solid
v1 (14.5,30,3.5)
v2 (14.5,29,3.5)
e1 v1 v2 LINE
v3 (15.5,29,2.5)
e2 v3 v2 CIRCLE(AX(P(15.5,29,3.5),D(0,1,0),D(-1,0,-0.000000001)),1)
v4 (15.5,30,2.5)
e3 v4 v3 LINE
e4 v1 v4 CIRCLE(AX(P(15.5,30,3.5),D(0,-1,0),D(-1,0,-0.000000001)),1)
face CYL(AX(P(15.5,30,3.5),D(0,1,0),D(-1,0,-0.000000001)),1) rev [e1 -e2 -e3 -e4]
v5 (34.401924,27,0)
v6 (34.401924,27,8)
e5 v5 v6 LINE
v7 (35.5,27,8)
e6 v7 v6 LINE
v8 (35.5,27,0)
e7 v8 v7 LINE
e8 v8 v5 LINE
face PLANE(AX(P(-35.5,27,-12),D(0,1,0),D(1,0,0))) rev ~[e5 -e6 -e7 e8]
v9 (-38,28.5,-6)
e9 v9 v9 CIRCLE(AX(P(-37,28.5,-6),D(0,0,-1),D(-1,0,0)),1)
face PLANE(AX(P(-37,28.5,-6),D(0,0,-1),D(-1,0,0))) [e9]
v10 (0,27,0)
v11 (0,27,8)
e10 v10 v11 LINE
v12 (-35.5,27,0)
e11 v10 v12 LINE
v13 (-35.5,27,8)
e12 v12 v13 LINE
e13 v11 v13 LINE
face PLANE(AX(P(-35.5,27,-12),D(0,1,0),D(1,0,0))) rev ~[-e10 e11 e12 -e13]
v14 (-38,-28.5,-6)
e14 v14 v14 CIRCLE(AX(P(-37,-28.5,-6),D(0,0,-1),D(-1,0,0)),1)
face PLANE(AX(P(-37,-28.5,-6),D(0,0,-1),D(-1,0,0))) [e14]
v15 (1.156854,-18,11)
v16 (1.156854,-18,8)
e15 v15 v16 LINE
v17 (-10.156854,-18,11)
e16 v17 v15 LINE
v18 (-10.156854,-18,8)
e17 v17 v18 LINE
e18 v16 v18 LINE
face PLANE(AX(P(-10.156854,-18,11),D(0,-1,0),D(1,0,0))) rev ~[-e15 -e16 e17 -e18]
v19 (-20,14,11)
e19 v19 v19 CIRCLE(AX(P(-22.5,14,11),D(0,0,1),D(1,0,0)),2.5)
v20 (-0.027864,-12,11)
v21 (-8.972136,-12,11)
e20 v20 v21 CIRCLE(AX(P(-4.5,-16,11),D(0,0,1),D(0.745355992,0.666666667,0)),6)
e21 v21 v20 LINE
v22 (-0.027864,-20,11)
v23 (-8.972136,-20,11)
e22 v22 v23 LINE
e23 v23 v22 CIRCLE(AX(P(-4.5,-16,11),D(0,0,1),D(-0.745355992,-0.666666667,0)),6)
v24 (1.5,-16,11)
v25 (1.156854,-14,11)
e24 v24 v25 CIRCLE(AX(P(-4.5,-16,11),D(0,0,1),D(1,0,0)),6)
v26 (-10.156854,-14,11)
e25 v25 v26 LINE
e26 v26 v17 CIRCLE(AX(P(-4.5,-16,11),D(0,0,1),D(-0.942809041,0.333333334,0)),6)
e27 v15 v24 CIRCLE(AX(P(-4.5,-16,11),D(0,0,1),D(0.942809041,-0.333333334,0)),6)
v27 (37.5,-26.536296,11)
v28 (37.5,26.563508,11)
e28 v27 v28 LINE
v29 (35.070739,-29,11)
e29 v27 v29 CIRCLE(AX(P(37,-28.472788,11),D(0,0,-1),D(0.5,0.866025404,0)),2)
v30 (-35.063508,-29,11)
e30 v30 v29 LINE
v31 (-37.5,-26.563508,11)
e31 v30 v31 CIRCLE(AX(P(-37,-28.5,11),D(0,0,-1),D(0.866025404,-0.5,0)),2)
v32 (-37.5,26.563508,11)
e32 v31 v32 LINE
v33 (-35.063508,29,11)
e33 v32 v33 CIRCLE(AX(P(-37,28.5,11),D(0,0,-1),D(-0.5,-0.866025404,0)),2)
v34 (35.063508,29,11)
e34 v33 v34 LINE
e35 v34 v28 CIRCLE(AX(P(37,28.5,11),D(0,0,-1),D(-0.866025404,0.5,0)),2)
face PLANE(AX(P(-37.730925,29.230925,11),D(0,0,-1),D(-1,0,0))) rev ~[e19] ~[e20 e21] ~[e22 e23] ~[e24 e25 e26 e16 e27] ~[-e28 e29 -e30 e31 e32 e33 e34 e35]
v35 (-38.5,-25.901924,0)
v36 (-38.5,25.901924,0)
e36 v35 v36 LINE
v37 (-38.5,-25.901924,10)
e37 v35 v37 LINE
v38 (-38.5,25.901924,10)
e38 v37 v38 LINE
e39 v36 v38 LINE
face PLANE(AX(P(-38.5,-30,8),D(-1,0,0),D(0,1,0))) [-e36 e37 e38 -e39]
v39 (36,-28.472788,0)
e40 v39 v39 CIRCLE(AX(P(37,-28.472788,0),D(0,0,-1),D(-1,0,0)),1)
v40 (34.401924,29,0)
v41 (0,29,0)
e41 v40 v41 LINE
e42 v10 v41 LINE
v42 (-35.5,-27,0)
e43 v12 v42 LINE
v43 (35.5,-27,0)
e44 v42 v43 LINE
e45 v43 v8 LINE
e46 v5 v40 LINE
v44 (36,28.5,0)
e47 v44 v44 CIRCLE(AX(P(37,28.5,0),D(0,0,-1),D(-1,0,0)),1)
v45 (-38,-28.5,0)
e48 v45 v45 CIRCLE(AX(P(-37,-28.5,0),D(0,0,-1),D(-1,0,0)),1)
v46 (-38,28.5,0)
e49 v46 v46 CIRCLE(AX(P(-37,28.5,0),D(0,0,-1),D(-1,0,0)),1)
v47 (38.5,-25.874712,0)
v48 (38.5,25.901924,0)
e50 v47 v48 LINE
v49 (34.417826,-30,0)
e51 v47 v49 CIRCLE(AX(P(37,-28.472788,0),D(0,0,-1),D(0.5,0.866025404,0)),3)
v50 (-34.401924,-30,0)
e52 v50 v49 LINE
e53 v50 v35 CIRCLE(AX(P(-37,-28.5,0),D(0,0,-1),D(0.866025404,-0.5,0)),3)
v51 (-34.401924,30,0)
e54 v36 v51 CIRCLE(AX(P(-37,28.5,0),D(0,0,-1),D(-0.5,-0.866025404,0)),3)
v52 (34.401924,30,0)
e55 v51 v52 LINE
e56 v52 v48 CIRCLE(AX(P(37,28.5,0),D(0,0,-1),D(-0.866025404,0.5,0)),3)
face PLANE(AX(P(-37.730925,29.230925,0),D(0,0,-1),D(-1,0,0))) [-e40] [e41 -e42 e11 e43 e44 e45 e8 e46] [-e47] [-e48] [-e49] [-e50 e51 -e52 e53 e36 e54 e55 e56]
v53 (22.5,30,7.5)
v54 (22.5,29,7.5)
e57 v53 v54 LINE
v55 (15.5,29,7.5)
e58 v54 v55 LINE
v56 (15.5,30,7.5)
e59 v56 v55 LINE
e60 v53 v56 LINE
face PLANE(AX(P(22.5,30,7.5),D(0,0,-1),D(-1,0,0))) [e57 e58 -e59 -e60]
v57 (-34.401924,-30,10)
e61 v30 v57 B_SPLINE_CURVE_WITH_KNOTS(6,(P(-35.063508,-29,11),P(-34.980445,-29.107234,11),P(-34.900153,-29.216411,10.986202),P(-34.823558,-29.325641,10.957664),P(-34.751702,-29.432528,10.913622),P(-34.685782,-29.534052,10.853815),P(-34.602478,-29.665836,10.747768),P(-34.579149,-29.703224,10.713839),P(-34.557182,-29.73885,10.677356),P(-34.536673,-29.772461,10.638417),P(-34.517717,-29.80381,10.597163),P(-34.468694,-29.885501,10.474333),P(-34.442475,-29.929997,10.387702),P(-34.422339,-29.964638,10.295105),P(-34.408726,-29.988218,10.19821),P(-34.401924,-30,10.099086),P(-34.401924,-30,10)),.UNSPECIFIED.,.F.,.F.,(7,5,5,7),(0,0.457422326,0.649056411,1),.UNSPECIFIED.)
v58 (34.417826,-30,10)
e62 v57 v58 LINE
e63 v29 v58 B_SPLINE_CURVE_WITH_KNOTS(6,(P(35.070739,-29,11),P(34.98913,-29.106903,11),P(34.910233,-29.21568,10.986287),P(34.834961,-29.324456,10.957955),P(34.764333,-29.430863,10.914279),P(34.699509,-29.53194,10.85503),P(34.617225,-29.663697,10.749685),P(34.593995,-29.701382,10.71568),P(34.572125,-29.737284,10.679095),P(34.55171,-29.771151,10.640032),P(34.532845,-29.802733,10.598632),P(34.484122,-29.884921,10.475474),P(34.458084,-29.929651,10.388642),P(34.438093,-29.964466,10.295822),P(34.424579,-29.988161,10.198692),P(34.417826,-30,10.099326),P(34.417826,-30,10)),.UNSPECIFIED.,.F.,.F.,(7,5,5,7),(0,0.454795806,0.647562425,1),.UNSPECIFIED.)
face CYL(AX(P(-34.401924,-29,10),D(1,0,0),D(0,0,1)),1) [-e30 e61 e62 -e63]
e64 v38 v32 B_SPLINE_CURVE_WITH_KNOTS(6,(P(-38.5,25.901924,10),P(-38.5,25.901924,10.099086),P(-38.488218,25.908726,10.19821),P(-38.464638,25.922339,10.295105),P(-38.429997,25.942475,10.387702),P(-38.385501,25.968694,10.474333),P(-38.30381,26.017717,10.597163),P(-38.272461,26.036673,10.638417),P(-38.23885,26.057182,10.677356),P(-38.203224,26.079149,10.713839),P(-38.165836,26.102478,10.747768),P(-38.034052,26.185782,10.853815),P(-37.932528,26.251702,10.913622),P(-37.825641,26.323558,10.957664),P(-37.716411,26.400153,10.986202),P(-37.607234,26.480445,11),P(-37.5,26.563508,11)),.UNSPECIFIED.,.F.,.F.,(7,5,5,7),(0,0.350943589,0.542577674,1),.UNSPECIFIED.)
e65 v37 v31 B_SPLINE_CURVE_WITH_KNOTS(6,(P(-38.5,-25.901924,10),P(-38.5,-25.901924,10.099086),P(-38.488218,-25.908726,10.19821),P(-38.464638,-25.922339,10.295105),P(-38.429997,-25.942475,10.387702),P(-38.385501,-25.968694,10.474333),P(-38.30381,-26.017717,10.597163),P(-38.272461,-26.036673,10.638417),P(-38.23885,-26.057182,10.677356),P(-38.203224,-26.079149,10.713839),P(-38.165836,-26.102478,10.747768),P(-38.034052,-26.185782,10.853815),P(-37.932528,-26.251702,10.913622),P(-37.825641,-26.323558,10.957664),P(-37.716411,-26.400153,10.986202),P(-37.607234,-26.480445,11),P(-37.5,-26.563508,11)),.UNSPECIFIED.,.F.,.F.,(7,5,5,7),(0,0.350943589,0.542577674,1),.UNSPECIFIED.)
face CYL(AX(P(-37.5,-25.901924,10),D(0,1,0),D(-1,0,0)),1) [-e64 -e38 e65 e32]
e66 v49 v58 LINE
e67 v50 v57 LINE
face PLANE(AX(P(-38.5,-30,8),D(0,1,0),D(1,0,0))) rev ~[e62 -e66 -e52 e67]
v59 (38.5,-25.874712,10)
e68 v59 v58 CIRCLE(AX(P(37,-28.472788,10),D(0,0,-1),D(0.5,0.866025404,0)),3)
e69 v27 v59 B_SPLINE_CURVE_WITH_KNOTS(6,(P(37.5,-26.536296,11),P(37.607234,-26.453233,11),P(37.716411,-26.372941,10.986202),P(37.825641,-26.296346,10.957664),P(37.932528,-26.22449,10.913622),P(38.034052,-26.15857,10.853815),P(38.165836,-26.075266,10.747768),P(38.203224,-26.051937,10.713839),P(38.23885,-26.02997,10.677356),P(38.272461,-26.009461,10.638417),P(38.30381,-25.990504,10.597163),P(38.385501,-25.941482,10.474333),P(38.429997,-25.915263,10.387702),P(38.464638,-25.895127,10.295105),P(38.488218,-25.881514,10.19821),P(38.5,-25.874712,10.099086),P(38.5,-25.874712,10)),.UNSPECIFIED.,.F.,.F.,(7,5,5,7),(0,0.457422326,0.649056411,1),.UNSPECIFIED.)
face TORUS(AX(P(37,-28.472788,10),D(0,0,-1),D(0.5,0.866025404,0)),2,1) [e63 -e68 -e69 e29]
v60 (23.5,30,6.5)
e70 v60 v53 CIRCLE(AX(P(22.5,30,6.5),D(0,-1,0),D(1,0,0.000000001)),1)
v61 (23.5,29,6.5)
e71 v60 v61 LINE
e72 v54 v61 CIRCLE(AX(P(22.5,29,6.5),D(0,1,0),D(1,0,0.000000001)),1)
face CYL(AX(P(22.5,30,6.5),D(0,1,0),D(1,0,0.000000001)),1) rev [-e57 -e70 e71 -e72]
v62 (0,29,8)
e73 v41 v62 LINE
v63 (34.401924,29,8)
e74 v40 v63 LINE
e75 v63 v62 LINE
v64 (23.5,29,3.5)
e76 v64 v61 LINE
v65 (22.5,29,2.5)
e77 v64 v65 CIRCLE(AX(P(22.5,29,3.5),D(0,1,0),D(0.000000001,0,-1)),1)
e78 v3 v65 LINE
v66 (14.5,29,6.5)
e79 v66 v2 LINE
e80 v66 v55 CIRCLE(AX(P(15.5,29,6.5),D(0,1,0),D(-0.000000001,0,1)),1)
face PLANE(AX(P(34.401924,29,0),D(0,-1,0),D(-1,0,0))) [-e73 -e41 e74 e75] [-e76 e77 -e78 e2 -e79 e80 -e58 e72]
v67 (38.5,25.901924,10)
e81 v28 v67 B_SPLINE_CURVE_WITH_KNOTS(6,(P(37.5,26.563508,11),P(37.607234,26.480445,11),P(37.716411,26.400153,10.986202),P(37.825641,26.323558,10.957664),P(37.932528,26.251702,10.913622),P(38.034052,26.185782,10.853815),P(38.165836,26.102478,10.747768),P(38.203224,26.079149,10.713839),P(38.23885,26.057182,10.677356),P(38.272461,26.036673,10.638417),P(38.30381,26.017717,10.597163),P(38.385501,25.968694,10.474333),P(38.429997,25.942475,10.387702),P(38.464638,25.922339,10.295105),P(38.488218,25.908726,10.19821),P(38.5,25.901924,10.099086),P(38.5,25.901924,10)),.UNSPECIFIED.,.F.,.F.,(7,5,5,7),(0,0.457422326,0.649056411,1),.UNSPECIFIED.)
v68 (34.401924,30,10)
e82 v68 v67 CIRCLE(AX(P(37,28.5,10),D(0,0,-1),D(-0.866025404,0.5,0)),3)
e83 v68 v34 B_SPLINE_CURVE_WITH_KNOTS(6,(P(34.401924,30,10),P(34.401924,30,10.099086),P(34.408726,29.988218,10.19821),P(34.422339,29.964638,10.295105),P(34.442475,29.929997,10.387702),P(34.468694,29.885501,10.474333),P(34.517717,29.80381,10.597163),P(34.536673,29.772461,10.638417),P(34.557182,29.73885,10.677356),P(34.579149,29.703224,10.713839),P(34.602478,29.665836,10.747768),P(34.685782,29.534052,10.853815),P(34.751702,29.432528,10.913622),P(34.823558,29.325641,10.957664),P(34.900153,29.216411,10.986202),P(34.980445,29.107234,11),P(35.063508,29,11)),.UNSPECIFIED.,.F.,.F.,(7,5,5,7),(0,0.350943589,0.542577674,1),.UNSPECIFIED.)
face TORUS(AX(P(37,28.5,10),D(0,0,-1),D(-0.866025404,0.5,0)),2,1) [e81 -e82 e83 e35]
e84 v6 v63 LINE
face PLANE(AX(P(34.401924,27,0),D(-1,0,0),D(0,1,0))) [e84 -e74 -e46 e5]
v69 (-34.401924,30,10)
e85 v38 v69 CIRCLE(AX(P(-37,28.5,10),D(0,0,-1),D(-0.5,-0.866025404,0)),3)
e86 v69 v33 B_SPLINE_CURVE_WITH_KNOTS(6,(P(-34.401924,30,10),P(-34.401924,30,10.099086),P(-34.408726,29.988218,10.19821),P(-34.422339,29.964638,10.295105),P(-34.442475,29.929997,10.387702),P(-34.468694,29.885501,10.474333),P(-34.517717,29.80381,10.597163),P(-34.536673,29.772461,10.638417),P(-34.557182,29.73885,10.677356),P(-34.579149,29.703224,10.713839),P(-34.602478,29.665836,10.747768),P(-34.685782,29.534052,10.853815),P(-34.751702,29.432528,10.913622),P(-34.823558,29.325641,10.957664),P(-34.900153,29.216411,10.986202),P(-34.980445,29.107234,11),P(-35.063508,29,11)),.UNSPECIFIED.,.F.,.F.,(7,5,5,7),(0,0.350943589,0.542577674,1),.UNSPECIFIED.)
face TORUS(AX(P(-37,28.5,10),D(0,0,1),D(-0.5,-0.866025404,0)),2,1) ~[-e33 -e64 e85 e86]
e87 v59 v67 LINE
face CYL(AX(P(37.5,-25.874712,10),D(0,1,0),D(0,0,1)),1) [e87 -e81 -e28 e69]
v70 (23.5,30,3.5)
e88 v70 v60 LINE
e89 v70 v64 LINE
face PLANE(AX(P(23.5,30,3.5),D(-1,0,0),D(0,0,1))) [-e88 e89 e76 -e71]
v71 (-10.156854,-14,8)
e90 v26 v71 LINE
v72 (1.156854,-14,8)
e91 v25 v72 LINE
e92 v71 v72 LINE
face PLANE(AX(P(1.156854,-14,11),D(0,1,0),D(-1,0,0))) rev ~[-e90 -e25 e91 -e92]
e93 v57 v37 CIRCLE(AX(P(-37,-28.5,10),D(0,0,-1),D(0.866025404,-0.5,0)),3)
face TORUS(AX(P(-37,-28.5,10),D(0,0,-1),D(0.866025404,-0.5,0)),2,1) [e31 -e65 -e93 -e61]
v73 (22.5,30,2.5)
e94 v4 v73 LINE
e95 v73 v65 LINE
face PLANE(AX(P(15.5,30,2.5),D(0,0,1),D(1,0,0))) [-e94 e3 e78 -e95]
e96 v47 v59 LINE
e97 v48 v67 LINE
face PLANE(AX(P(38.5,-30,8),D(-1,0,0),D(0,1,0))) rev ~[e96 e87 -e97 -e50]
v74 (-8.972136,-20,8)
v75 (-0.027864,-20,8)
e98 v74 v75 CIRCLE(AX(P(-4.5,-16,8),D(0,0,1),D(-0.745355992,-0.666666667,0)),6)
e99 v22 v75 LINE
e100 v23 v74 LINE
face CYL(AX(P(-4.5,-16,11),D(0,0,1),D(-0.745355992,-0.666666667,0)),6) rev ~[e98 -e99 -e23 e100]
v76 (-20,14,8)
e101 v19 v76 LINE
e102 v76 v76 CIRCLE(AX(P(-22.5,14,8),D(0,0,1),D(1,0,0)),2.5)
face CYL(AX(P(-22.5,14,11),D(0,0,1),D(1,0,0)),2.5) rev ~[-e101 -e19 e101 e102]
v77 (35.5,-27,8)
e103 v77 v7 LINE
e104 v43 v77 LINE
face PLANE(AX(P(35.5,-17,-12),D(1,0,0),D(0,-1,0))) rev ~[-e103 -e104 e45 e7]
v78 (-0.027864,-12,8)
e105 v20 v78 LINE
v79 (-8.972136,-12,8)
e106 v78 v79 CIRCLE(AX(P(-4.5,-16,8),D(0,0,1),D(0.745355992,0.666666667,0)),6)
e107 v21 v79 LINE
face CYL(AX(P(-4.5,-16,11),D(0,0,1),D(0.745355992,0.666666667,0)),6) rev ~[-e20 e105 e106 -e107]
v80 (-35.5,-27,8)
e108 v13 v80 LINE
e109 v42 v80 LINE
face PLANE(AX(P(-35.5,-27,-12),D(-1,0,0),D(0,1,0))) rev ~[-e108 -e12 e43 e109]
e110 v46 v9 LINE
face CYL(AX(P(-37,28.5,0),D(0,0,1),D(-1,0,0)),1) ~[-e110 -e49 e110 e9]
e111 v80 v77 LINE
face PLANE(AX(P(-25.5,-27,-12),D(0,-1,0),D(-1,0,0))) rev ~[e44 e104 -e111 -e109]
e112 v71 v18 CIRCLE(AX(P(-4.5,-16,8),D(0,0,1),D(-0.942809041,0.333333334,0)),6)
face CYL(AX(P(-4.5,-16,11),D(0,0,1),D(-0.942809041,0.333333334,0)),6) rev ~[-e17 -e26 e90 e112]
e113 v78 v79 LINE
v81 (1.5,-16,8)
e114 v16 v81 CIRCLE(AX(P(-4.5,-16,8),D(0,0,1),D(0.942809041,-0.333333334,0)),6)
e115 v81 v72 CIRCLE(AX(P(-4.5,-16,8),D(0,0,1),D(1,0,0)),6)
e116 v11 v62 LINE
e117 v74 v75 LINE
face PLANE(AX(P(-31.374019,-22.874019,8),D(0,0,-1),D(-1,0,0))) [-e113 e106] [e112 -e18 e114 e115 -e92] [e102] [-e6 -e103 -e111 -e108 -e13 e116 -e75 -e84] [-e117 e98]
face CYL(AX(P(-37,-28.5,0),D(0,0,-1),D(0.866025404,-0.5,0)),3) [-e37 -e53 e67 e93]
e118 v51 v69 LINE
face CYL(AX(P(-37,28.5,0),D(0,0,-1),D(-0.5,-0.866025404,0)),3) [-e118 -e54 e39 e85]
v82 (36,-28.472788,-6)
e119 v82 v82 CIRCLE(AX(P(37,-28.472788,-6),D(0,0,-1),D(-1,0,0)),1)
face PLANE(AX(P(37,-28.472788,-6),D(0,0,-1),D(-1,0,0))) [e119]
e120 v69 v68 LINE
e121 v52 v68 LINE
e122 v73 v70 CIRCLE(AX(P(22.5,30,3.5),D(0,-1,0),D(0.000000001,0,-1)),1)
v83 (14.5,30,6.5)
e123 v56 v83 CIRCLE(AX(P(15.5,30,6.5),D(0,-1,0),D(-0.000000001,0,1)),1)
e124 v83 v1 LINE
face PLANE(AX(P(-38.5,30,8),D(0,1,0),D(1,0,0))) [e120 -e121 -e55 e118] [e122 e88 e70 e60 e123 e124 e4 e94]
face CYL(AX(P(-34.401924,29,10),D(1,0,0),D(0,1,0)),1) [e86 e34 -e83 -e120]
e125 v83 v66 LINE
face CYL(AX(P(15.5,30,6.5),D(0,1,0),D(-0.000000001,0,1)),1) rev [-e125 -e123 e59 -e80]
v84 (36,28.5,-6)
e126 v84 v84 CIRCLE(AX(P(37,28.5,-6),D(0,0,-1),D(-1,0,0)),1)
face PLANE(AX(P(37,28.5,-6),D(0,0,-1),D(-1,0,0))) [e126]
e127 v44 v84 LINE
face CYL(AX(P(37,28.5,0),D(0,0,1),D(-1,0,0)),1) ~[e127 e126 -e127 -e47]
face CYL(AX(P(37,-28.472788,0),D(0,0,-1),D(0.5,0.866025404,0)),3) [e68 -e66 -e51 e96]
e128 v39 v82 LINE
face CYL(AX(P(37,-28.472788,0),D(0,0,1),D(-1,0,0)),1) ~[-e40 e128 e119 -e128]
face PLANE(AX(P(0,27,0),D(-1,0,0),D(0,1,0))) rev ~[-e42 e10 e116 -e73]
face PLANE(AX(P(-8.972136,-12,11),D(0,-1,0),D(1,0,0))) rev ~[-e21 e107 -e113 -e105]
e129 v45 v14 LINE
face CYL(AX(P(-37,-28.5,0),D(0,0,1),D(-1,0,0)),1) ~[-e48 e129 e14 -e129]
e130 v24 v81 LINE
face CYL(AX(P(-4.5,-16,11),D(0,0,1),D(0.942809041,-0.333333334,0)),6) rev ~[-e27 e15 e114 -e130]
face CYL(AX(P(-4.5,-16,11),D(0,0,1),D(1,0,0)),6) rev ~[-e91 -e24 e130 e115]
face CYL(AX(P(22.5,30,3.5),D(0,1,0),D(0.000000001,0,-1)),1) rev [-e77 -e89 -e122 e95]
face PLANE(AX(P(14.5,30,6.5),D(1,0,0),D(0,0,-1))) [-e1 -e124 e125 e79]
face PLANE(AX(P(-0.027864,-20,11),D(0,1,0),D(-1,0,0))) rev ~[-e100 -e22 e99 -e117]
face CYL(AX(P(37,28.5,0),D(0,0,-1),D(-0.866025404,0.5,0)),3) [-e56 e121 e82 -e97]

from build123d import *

# Parameters (mm, degrees)
SKETCH2_R                  = 1.75
BOSS_EXTRUDE1_DEPTH        = 8
BOSS_EXTRUDE1_DEPTH_BACK   = 12
BOSS_EXTRUDE1_2_DEPTH      = 8
BOSS_EXTRUDE1_2_DEPTH_BACK = 12
BOSS_EXTRUDE1_3_DEPTH      = 8
BOSS_EXTRUDE1_3_DEPTH_BACK = 12
BOSS_EXTRUDE1_4_DEPTH      = 8
BOSS_EXTRUDE1_4_DEPTH_BACK = 12
SKETCH3_W                  = 77
SKETCH3_H                  = 60
SKETCH3_W_2                = 71
SKETCH3_H_2                = 54
BOSS_EXTRUDE2_DEPTH        = 8
SKETCH4_W                  = 77
SKETCH4_H                  = 60
BOSS_EXTRUDE3_DEPTH        = 3
CUT_EXTRUDE6_DEPTH         = 20
CUT_EXTRUDE8_DEPTH         = 13
CUT_EXTRUDE9_DEPTH         = 10
SKETCH17_R                 = 1
BOSS_EXTRUDE5_DEPTH        = 6
BOSS_EXTRUDE5_DEPTH_BACK   = 7
FILLET1_R                  = 1
BOSS_EXTRUDE6_DEPTH        = 11
FILLET3_R                  = 1
SKETCH20_R                 = 2.5
CUT_EXTRUDE10_DEPTH        = 10
SKETCH22_W                 = 34.401923789
SKETCH22_H                 = 2
CUT_EXTRUDE11_DEPTH        = 8


with BuildPart() as part:
    # Sketch2 → Boss-Extrude1 (new body, two sides)
    with BuildSketch(Plane.XY) as boss_extrude1_sk:
        with BuildLine():
            Line((-35.5, -27), (-25.5, -27))
            ThreePointArc((-25.5, -27), (-28.428932188, -19.928932188), (-35.5, -17))
            Line((-35.5, -17), (-35.5, -27))
        make_face()
        with Locations((-33, -23)):
            Circle(SKETCH2_R, mode=Mode.SUBTRACT)
    extrude(amount=BOSS_EXTRUDE1_DEPTH)
    extrude(boss_extrude1_sk.sketch, amount=-BOSS_EXTRUDE1_DEPTH_BACK)



with BuildPart() as body_2:
    # Sketch2 → Boss-Extrude1 2 (new body, two sides)
    with BuildSketch(Plane.XY) as boss_extrude1_2_sk:
        with BuildLine():
            Line((35.5, 27), (35.5, 17))
            ThreePointArc((35.5, 17), (28.428932188, 19.928932188), (25.5, 27))
            Line((25.5, 27), (35.5, 27))
        make_face()
        with Locations((33, 21)):
            Circle(SKETCH2_R, mode=Mode.SUBTRACT)
    extrude(amount=BOSS_EXTRUDE1_2_DEPTH)
    extrude(boss_extrude1_2_sk.sketch, amount=-BOSS_EXTRUDE1_2_DEPTH_BACK)


with BuildPart() as body_3:
    # Sketch2 → Boss-Extrude1 3 (new body, two sides)
    with BuildSketch(Plane.XY) as boss_extrude1_3_sk:
        with BuildLine():
            Line((-35.5, 27), (-25.5, 27))
            ThreePointArc((-25.5, 27), (-28.428932188, 19.928932188), (-35.5, 17))
            Line((-35.5, 17), (-35.5, 27))
        make_face()
        with Locations((-33, 21)):
            Circle(SKETCH2_R, mode=Mode.SUBTRACT)
    extrude(amount=BOSS_EXTRUDE1_3_DEPTH)
    extrude(boss_extrude1_3_sk.sketch, amount=-BOSS_EXTRUDE1_3_DEPTH_BACK)


with BuildPart() as body_4:
    # Sketch2 → Boss-Extrude1 4 (new body, two sides)
    with BuildSketch(Plane.XY) as boss_extrude1_4_sk:
        with BuildLine():
            Line((35.5, -17), (35.5, -27))
            Line((35.5, -27), (25.5, -27))
            ThreePointArc((25.5, -27), (28.428932188, -19.928932188), (35.5, -17))
        make_face()
        with Locations((33, -23)):
            Circle(SKETCH2_R, mode=Mode.SUBTRACT)
    extrude(amount=BOSS_EXTRUDE1_4_DEPTH)
    extrude(boss_extrude1_4_sk.sketch, amount=-BOSS_EXTRUDE1_4_DEPTH_BACK)


with BuildPart() as part_1:
    add(part.part)

    add(body_2.part)  # Boss-Extrude2 merges body 2

    add(body_3.part)  # Boss-Extrude2 merges body 3

    add(body_4.part)  # Boss-Extrude2 merges body 4
    # Sketch3 → Boss-Extrude2 (add)
    with BuildSketch(Plane.XY):
        Rectangle(SKETCH3_W, SKETCH3_H)
        Rectangle(SKETCH3_W_2, SKETCH3_H_2, mode=Mode.SUBTRACT)
    extrude(amount=BOSS_EXTRUDE2_DEPTH)

    # Sketch4 → Boss-Extrude3 (add)
    with BuildSketch(Plane.XY.offset(8)):
        Rectangle(SKETCH4_W, SKETCH4_H)
    extrude(amount=BOSS_EXTRUDE3_DEPTH)

    # Sketch12 → Cut-Extrude6 (cut)
    with BuildSketch(Plane(origin=(0, 0, -12), x_dir=(-1, 0, 0), z_dir=(0, 0, -1))):
        with BuildLine():
            Line((-35.5, -27), (-25.5, -27))
            ThreePointArc((-25.5, -27), (-28.428932188, -19.928932188), (-35.5, -17))
            Line((-35.5, -17), (-35.5, -27))
        make_face()
        with BuildLine():
            Line((35.5, -27), (35.5, -17))
            ThreePointArc((35.5, -17), (28.428932188, -19.928932188), (25.5, -27))
            Line((25.5, -27), (35.5, -27))
        make_face()
        with BuildLine():
            Line((35.5, 17), (35.5, 27))
            Line((35.5, 27), (25.5, 27))
            ThreePointArc((25.5, 27), (28.428932188, 19.928932188), (35.5, 17))
        make_face()
        with BuildLine():
            Line((-25.5, 27), (-35.5, 27))
            Line((-35.5, 27), (-35.5, 17))
            ThreePointArc((-35.5, 17), (-28.428932188, 19.928932188), (-25.5, 27))
        make_face()
    extrude(amount=-CUT_EXTRUDE6_DEPTH, mode=Mode.SUBTRACT)

    # Sketch14 → Cut-Extrude8 (cut)
    with BuildSketch(Plane(origin=(0, 30, 0), x_dir=(1, 0, 0), z_dir=(0, 1, 0))):
        with BuildLine():
            Line((22.5, -7.5), (15.5, -7.5))
            ThreePointArc((15.5, -7.5), (14.792893219, -7.207106781), (14.5, -6.5))
            Line((14.5, -6.5), (14.5, -3.5))
            ThreePointArc((14.5, -3.5), (14.792893219, -2.792893219), (15.5, -2.5))
            Line((15.5, -2.5), (22.5, -2.5))
            ThreePointArc((22.5, -2.5), (23.207106781, -2.792893219), (23.5, -3.5))
            Line((23.5, -3.5), (23.5, -6.5))
            ThreePointArc((23.5, -6.5), (23.207106781, -7.207106781), (22.5, -7.5))
        make_face()
    extrude(amount=-CUT_EXTRUDE8_DEPTH, mode=Mode.SUBTRACT)

    # Sketch15 → Cut-Extrude9 (cut)
    with BuildSketch(Plane.XY.offset(11)):
        with BuildLine():
            ThreePointArc((-0.027864045, -12), (-4.5, -10), (-8.972135955, -12))
            Line((-8.972135955, -12), (-0.027864045, -12))
        make_face()
        with BuildLine():
            Line((1.156854249, -14), (-10.156854249, -14))
            ThreePointArc((-10.156854249, -14), (-10.5, -16), (-10.156854249, -18))
            Line((-10.156854249, -18), (1.156854249, -18))
            ThreePointArc((1.156854249, -18), (1.413591358, -17.014611872), (1.5, -16))
            ThreePointArc((1.5, -16), (1.413591358, -14.985388128), (1.156854249, -14))
        make_face()
        with BuildLine():
            Line((-0.027864045, -20), (-8.972135955, -20))
            ThreePointArc((-8.972135955, -20), (-4.5, -22), (-0.027864045, -20))
        make_face()
    extrude(amount=-CUT_EXTRUDE9_DEPTH, mode=Mode.SUBTRACT)

    # Sketch17 → Boss-Extrude5 (add, two sides)
    with BuildSketch(Plane(origin=(0, 0, 0), x_dir=(-1, 0, 0), z_dir=(0, 0, -1))) as boss_extrude5_sk:
        with Locations((-37, 28.5)):
            Circle(SKETCH17_R)
        with Locations((37, 28.5)):
            Circle(SKETCH17_R)
        with Locations((37, -28.5)):
            Circle(SKETCH17_R)
        with Locations((-37, -28.472787798)):
            Circle(SKETCH17_R)
    extrude(amount=BOSS_EXTRUDE5_DEPTH)
    extrude(boss_extrude5_sk.sketch, amount=-BOSS_EXTRUDE5_DEPTH_BACK)

    # Fillet1
    fillet1_edges = [part_1.edges().sort_by_distance(p)[0] for p in [
        (-38.5, 30, 5.5),
        (38.5, 30, 5.5),
        (38.5, -30, 5.5),
        (-38.5, -30, 5.5),
    ]]
    fillet(fillet1_edges, radius=FILLET1_R)

    # Sketch19 → Boss-Extrude6 (add)
    with BuildSketch(Plane(origin=(0, 0, 0), x_dir=(-1, 0, 0), z_dir=(0, 0, -1))):
        with BuildLine():
            Line((38.5, 29), (38.5, 25.901923789))
            ThreePointArc((38.5, 25.901923789), (39.121320344, 30.621320344), (34.401923789, 30))
            Line((34.401923789, 30), (37.5, 30))
            ThreePointArc((37.5, 30), (38.207106781, 29.707106781), (38.5, 29))
        make_face()
        with BuildLine():
            Line((37.5, -30), (34.401923789, -30))
            ThreePointArc((34.401923789, -30), (39.121320344, -30.621320344), (38.5, -25.901923789))
            Line((38.5, -25.901923789), (38.5, -29))
            ThreePointArc((38.5, -29), (38.207106781, -29.707106781), (37.5, -30))
        make_face()
        with BuildLine():
            Line((-38.5, -29), (-38.5, -25.874711587))
            ThreePointArc((-38.5, -25.874711587), (-39.13243436, -30.582935589), (-34.417825937, -30))
            Line((-34.417825937, -30), (-37.5, -30))
            ThreePointArc((-37.5, -30), (-38.207106781, -29.707106781), (-38.5, -29))
        make_face()
        with BuildLine():
            Line((-37.5, 30), (-34.401923789, 30))
            ThreePointArc((-34.401923789, 30), (-39.121320344, 30.621320344), (-38.5, 25.901923789))
            Line((-38.5, 25.901923789), (-38.5, 29))
            ThreePointArc((-38.5, 29), (-38.207106781, 29.707106781), (-37.5, 30))
        make_face()
    extrude(amount=-BOSS_EXTRUDE6_DEPTH)

    # Fillet3
    fillet3_edges = [part_1.edges().sort_by_distance(p)[0] for p in [
        (-38.5, 0, 11),
        (-39.121320344, 30.621320344, 11),
        (0.007951074, -30, 11),
        (-39.121320344, -30.621320344, 11),
        (38.5, 0.013606101, 11),
        (39.13243436, -30.582935589, 11),
        (0, 30, 11),
        (39.121320344, 30.621320344, 11),
    ]]
    fillet(fillet3_edges, radius=FILLET3_R)

    # Sketch20 → Cut-Extrude10 (cut)
    with BuildSketch(Plane.XY.offset(11)):
        with Locations((-22.5, 14)):
            Circle(SKETCH20_R)
    extrude(amount=-CUT_EXTRUDE10_DEPTH, mode=Mode.SUBTRACT)

    # Sketch22 → Cut-Extrude11 (cut)
    with BuildSketch(Plane(origin=(0, 0, 0), x_dir=(-1, 0, 0), z_dir=(0, 0, -1))):
        with Locations((-17.200961895, 28)):
            Rectangle(SKETCH22_W, SKETCH22_H)
    extrude(amount=-CUT_EXTRUDE11_DEPTH, mode=Mode.SUBTRACT)


solid = part_1.part
